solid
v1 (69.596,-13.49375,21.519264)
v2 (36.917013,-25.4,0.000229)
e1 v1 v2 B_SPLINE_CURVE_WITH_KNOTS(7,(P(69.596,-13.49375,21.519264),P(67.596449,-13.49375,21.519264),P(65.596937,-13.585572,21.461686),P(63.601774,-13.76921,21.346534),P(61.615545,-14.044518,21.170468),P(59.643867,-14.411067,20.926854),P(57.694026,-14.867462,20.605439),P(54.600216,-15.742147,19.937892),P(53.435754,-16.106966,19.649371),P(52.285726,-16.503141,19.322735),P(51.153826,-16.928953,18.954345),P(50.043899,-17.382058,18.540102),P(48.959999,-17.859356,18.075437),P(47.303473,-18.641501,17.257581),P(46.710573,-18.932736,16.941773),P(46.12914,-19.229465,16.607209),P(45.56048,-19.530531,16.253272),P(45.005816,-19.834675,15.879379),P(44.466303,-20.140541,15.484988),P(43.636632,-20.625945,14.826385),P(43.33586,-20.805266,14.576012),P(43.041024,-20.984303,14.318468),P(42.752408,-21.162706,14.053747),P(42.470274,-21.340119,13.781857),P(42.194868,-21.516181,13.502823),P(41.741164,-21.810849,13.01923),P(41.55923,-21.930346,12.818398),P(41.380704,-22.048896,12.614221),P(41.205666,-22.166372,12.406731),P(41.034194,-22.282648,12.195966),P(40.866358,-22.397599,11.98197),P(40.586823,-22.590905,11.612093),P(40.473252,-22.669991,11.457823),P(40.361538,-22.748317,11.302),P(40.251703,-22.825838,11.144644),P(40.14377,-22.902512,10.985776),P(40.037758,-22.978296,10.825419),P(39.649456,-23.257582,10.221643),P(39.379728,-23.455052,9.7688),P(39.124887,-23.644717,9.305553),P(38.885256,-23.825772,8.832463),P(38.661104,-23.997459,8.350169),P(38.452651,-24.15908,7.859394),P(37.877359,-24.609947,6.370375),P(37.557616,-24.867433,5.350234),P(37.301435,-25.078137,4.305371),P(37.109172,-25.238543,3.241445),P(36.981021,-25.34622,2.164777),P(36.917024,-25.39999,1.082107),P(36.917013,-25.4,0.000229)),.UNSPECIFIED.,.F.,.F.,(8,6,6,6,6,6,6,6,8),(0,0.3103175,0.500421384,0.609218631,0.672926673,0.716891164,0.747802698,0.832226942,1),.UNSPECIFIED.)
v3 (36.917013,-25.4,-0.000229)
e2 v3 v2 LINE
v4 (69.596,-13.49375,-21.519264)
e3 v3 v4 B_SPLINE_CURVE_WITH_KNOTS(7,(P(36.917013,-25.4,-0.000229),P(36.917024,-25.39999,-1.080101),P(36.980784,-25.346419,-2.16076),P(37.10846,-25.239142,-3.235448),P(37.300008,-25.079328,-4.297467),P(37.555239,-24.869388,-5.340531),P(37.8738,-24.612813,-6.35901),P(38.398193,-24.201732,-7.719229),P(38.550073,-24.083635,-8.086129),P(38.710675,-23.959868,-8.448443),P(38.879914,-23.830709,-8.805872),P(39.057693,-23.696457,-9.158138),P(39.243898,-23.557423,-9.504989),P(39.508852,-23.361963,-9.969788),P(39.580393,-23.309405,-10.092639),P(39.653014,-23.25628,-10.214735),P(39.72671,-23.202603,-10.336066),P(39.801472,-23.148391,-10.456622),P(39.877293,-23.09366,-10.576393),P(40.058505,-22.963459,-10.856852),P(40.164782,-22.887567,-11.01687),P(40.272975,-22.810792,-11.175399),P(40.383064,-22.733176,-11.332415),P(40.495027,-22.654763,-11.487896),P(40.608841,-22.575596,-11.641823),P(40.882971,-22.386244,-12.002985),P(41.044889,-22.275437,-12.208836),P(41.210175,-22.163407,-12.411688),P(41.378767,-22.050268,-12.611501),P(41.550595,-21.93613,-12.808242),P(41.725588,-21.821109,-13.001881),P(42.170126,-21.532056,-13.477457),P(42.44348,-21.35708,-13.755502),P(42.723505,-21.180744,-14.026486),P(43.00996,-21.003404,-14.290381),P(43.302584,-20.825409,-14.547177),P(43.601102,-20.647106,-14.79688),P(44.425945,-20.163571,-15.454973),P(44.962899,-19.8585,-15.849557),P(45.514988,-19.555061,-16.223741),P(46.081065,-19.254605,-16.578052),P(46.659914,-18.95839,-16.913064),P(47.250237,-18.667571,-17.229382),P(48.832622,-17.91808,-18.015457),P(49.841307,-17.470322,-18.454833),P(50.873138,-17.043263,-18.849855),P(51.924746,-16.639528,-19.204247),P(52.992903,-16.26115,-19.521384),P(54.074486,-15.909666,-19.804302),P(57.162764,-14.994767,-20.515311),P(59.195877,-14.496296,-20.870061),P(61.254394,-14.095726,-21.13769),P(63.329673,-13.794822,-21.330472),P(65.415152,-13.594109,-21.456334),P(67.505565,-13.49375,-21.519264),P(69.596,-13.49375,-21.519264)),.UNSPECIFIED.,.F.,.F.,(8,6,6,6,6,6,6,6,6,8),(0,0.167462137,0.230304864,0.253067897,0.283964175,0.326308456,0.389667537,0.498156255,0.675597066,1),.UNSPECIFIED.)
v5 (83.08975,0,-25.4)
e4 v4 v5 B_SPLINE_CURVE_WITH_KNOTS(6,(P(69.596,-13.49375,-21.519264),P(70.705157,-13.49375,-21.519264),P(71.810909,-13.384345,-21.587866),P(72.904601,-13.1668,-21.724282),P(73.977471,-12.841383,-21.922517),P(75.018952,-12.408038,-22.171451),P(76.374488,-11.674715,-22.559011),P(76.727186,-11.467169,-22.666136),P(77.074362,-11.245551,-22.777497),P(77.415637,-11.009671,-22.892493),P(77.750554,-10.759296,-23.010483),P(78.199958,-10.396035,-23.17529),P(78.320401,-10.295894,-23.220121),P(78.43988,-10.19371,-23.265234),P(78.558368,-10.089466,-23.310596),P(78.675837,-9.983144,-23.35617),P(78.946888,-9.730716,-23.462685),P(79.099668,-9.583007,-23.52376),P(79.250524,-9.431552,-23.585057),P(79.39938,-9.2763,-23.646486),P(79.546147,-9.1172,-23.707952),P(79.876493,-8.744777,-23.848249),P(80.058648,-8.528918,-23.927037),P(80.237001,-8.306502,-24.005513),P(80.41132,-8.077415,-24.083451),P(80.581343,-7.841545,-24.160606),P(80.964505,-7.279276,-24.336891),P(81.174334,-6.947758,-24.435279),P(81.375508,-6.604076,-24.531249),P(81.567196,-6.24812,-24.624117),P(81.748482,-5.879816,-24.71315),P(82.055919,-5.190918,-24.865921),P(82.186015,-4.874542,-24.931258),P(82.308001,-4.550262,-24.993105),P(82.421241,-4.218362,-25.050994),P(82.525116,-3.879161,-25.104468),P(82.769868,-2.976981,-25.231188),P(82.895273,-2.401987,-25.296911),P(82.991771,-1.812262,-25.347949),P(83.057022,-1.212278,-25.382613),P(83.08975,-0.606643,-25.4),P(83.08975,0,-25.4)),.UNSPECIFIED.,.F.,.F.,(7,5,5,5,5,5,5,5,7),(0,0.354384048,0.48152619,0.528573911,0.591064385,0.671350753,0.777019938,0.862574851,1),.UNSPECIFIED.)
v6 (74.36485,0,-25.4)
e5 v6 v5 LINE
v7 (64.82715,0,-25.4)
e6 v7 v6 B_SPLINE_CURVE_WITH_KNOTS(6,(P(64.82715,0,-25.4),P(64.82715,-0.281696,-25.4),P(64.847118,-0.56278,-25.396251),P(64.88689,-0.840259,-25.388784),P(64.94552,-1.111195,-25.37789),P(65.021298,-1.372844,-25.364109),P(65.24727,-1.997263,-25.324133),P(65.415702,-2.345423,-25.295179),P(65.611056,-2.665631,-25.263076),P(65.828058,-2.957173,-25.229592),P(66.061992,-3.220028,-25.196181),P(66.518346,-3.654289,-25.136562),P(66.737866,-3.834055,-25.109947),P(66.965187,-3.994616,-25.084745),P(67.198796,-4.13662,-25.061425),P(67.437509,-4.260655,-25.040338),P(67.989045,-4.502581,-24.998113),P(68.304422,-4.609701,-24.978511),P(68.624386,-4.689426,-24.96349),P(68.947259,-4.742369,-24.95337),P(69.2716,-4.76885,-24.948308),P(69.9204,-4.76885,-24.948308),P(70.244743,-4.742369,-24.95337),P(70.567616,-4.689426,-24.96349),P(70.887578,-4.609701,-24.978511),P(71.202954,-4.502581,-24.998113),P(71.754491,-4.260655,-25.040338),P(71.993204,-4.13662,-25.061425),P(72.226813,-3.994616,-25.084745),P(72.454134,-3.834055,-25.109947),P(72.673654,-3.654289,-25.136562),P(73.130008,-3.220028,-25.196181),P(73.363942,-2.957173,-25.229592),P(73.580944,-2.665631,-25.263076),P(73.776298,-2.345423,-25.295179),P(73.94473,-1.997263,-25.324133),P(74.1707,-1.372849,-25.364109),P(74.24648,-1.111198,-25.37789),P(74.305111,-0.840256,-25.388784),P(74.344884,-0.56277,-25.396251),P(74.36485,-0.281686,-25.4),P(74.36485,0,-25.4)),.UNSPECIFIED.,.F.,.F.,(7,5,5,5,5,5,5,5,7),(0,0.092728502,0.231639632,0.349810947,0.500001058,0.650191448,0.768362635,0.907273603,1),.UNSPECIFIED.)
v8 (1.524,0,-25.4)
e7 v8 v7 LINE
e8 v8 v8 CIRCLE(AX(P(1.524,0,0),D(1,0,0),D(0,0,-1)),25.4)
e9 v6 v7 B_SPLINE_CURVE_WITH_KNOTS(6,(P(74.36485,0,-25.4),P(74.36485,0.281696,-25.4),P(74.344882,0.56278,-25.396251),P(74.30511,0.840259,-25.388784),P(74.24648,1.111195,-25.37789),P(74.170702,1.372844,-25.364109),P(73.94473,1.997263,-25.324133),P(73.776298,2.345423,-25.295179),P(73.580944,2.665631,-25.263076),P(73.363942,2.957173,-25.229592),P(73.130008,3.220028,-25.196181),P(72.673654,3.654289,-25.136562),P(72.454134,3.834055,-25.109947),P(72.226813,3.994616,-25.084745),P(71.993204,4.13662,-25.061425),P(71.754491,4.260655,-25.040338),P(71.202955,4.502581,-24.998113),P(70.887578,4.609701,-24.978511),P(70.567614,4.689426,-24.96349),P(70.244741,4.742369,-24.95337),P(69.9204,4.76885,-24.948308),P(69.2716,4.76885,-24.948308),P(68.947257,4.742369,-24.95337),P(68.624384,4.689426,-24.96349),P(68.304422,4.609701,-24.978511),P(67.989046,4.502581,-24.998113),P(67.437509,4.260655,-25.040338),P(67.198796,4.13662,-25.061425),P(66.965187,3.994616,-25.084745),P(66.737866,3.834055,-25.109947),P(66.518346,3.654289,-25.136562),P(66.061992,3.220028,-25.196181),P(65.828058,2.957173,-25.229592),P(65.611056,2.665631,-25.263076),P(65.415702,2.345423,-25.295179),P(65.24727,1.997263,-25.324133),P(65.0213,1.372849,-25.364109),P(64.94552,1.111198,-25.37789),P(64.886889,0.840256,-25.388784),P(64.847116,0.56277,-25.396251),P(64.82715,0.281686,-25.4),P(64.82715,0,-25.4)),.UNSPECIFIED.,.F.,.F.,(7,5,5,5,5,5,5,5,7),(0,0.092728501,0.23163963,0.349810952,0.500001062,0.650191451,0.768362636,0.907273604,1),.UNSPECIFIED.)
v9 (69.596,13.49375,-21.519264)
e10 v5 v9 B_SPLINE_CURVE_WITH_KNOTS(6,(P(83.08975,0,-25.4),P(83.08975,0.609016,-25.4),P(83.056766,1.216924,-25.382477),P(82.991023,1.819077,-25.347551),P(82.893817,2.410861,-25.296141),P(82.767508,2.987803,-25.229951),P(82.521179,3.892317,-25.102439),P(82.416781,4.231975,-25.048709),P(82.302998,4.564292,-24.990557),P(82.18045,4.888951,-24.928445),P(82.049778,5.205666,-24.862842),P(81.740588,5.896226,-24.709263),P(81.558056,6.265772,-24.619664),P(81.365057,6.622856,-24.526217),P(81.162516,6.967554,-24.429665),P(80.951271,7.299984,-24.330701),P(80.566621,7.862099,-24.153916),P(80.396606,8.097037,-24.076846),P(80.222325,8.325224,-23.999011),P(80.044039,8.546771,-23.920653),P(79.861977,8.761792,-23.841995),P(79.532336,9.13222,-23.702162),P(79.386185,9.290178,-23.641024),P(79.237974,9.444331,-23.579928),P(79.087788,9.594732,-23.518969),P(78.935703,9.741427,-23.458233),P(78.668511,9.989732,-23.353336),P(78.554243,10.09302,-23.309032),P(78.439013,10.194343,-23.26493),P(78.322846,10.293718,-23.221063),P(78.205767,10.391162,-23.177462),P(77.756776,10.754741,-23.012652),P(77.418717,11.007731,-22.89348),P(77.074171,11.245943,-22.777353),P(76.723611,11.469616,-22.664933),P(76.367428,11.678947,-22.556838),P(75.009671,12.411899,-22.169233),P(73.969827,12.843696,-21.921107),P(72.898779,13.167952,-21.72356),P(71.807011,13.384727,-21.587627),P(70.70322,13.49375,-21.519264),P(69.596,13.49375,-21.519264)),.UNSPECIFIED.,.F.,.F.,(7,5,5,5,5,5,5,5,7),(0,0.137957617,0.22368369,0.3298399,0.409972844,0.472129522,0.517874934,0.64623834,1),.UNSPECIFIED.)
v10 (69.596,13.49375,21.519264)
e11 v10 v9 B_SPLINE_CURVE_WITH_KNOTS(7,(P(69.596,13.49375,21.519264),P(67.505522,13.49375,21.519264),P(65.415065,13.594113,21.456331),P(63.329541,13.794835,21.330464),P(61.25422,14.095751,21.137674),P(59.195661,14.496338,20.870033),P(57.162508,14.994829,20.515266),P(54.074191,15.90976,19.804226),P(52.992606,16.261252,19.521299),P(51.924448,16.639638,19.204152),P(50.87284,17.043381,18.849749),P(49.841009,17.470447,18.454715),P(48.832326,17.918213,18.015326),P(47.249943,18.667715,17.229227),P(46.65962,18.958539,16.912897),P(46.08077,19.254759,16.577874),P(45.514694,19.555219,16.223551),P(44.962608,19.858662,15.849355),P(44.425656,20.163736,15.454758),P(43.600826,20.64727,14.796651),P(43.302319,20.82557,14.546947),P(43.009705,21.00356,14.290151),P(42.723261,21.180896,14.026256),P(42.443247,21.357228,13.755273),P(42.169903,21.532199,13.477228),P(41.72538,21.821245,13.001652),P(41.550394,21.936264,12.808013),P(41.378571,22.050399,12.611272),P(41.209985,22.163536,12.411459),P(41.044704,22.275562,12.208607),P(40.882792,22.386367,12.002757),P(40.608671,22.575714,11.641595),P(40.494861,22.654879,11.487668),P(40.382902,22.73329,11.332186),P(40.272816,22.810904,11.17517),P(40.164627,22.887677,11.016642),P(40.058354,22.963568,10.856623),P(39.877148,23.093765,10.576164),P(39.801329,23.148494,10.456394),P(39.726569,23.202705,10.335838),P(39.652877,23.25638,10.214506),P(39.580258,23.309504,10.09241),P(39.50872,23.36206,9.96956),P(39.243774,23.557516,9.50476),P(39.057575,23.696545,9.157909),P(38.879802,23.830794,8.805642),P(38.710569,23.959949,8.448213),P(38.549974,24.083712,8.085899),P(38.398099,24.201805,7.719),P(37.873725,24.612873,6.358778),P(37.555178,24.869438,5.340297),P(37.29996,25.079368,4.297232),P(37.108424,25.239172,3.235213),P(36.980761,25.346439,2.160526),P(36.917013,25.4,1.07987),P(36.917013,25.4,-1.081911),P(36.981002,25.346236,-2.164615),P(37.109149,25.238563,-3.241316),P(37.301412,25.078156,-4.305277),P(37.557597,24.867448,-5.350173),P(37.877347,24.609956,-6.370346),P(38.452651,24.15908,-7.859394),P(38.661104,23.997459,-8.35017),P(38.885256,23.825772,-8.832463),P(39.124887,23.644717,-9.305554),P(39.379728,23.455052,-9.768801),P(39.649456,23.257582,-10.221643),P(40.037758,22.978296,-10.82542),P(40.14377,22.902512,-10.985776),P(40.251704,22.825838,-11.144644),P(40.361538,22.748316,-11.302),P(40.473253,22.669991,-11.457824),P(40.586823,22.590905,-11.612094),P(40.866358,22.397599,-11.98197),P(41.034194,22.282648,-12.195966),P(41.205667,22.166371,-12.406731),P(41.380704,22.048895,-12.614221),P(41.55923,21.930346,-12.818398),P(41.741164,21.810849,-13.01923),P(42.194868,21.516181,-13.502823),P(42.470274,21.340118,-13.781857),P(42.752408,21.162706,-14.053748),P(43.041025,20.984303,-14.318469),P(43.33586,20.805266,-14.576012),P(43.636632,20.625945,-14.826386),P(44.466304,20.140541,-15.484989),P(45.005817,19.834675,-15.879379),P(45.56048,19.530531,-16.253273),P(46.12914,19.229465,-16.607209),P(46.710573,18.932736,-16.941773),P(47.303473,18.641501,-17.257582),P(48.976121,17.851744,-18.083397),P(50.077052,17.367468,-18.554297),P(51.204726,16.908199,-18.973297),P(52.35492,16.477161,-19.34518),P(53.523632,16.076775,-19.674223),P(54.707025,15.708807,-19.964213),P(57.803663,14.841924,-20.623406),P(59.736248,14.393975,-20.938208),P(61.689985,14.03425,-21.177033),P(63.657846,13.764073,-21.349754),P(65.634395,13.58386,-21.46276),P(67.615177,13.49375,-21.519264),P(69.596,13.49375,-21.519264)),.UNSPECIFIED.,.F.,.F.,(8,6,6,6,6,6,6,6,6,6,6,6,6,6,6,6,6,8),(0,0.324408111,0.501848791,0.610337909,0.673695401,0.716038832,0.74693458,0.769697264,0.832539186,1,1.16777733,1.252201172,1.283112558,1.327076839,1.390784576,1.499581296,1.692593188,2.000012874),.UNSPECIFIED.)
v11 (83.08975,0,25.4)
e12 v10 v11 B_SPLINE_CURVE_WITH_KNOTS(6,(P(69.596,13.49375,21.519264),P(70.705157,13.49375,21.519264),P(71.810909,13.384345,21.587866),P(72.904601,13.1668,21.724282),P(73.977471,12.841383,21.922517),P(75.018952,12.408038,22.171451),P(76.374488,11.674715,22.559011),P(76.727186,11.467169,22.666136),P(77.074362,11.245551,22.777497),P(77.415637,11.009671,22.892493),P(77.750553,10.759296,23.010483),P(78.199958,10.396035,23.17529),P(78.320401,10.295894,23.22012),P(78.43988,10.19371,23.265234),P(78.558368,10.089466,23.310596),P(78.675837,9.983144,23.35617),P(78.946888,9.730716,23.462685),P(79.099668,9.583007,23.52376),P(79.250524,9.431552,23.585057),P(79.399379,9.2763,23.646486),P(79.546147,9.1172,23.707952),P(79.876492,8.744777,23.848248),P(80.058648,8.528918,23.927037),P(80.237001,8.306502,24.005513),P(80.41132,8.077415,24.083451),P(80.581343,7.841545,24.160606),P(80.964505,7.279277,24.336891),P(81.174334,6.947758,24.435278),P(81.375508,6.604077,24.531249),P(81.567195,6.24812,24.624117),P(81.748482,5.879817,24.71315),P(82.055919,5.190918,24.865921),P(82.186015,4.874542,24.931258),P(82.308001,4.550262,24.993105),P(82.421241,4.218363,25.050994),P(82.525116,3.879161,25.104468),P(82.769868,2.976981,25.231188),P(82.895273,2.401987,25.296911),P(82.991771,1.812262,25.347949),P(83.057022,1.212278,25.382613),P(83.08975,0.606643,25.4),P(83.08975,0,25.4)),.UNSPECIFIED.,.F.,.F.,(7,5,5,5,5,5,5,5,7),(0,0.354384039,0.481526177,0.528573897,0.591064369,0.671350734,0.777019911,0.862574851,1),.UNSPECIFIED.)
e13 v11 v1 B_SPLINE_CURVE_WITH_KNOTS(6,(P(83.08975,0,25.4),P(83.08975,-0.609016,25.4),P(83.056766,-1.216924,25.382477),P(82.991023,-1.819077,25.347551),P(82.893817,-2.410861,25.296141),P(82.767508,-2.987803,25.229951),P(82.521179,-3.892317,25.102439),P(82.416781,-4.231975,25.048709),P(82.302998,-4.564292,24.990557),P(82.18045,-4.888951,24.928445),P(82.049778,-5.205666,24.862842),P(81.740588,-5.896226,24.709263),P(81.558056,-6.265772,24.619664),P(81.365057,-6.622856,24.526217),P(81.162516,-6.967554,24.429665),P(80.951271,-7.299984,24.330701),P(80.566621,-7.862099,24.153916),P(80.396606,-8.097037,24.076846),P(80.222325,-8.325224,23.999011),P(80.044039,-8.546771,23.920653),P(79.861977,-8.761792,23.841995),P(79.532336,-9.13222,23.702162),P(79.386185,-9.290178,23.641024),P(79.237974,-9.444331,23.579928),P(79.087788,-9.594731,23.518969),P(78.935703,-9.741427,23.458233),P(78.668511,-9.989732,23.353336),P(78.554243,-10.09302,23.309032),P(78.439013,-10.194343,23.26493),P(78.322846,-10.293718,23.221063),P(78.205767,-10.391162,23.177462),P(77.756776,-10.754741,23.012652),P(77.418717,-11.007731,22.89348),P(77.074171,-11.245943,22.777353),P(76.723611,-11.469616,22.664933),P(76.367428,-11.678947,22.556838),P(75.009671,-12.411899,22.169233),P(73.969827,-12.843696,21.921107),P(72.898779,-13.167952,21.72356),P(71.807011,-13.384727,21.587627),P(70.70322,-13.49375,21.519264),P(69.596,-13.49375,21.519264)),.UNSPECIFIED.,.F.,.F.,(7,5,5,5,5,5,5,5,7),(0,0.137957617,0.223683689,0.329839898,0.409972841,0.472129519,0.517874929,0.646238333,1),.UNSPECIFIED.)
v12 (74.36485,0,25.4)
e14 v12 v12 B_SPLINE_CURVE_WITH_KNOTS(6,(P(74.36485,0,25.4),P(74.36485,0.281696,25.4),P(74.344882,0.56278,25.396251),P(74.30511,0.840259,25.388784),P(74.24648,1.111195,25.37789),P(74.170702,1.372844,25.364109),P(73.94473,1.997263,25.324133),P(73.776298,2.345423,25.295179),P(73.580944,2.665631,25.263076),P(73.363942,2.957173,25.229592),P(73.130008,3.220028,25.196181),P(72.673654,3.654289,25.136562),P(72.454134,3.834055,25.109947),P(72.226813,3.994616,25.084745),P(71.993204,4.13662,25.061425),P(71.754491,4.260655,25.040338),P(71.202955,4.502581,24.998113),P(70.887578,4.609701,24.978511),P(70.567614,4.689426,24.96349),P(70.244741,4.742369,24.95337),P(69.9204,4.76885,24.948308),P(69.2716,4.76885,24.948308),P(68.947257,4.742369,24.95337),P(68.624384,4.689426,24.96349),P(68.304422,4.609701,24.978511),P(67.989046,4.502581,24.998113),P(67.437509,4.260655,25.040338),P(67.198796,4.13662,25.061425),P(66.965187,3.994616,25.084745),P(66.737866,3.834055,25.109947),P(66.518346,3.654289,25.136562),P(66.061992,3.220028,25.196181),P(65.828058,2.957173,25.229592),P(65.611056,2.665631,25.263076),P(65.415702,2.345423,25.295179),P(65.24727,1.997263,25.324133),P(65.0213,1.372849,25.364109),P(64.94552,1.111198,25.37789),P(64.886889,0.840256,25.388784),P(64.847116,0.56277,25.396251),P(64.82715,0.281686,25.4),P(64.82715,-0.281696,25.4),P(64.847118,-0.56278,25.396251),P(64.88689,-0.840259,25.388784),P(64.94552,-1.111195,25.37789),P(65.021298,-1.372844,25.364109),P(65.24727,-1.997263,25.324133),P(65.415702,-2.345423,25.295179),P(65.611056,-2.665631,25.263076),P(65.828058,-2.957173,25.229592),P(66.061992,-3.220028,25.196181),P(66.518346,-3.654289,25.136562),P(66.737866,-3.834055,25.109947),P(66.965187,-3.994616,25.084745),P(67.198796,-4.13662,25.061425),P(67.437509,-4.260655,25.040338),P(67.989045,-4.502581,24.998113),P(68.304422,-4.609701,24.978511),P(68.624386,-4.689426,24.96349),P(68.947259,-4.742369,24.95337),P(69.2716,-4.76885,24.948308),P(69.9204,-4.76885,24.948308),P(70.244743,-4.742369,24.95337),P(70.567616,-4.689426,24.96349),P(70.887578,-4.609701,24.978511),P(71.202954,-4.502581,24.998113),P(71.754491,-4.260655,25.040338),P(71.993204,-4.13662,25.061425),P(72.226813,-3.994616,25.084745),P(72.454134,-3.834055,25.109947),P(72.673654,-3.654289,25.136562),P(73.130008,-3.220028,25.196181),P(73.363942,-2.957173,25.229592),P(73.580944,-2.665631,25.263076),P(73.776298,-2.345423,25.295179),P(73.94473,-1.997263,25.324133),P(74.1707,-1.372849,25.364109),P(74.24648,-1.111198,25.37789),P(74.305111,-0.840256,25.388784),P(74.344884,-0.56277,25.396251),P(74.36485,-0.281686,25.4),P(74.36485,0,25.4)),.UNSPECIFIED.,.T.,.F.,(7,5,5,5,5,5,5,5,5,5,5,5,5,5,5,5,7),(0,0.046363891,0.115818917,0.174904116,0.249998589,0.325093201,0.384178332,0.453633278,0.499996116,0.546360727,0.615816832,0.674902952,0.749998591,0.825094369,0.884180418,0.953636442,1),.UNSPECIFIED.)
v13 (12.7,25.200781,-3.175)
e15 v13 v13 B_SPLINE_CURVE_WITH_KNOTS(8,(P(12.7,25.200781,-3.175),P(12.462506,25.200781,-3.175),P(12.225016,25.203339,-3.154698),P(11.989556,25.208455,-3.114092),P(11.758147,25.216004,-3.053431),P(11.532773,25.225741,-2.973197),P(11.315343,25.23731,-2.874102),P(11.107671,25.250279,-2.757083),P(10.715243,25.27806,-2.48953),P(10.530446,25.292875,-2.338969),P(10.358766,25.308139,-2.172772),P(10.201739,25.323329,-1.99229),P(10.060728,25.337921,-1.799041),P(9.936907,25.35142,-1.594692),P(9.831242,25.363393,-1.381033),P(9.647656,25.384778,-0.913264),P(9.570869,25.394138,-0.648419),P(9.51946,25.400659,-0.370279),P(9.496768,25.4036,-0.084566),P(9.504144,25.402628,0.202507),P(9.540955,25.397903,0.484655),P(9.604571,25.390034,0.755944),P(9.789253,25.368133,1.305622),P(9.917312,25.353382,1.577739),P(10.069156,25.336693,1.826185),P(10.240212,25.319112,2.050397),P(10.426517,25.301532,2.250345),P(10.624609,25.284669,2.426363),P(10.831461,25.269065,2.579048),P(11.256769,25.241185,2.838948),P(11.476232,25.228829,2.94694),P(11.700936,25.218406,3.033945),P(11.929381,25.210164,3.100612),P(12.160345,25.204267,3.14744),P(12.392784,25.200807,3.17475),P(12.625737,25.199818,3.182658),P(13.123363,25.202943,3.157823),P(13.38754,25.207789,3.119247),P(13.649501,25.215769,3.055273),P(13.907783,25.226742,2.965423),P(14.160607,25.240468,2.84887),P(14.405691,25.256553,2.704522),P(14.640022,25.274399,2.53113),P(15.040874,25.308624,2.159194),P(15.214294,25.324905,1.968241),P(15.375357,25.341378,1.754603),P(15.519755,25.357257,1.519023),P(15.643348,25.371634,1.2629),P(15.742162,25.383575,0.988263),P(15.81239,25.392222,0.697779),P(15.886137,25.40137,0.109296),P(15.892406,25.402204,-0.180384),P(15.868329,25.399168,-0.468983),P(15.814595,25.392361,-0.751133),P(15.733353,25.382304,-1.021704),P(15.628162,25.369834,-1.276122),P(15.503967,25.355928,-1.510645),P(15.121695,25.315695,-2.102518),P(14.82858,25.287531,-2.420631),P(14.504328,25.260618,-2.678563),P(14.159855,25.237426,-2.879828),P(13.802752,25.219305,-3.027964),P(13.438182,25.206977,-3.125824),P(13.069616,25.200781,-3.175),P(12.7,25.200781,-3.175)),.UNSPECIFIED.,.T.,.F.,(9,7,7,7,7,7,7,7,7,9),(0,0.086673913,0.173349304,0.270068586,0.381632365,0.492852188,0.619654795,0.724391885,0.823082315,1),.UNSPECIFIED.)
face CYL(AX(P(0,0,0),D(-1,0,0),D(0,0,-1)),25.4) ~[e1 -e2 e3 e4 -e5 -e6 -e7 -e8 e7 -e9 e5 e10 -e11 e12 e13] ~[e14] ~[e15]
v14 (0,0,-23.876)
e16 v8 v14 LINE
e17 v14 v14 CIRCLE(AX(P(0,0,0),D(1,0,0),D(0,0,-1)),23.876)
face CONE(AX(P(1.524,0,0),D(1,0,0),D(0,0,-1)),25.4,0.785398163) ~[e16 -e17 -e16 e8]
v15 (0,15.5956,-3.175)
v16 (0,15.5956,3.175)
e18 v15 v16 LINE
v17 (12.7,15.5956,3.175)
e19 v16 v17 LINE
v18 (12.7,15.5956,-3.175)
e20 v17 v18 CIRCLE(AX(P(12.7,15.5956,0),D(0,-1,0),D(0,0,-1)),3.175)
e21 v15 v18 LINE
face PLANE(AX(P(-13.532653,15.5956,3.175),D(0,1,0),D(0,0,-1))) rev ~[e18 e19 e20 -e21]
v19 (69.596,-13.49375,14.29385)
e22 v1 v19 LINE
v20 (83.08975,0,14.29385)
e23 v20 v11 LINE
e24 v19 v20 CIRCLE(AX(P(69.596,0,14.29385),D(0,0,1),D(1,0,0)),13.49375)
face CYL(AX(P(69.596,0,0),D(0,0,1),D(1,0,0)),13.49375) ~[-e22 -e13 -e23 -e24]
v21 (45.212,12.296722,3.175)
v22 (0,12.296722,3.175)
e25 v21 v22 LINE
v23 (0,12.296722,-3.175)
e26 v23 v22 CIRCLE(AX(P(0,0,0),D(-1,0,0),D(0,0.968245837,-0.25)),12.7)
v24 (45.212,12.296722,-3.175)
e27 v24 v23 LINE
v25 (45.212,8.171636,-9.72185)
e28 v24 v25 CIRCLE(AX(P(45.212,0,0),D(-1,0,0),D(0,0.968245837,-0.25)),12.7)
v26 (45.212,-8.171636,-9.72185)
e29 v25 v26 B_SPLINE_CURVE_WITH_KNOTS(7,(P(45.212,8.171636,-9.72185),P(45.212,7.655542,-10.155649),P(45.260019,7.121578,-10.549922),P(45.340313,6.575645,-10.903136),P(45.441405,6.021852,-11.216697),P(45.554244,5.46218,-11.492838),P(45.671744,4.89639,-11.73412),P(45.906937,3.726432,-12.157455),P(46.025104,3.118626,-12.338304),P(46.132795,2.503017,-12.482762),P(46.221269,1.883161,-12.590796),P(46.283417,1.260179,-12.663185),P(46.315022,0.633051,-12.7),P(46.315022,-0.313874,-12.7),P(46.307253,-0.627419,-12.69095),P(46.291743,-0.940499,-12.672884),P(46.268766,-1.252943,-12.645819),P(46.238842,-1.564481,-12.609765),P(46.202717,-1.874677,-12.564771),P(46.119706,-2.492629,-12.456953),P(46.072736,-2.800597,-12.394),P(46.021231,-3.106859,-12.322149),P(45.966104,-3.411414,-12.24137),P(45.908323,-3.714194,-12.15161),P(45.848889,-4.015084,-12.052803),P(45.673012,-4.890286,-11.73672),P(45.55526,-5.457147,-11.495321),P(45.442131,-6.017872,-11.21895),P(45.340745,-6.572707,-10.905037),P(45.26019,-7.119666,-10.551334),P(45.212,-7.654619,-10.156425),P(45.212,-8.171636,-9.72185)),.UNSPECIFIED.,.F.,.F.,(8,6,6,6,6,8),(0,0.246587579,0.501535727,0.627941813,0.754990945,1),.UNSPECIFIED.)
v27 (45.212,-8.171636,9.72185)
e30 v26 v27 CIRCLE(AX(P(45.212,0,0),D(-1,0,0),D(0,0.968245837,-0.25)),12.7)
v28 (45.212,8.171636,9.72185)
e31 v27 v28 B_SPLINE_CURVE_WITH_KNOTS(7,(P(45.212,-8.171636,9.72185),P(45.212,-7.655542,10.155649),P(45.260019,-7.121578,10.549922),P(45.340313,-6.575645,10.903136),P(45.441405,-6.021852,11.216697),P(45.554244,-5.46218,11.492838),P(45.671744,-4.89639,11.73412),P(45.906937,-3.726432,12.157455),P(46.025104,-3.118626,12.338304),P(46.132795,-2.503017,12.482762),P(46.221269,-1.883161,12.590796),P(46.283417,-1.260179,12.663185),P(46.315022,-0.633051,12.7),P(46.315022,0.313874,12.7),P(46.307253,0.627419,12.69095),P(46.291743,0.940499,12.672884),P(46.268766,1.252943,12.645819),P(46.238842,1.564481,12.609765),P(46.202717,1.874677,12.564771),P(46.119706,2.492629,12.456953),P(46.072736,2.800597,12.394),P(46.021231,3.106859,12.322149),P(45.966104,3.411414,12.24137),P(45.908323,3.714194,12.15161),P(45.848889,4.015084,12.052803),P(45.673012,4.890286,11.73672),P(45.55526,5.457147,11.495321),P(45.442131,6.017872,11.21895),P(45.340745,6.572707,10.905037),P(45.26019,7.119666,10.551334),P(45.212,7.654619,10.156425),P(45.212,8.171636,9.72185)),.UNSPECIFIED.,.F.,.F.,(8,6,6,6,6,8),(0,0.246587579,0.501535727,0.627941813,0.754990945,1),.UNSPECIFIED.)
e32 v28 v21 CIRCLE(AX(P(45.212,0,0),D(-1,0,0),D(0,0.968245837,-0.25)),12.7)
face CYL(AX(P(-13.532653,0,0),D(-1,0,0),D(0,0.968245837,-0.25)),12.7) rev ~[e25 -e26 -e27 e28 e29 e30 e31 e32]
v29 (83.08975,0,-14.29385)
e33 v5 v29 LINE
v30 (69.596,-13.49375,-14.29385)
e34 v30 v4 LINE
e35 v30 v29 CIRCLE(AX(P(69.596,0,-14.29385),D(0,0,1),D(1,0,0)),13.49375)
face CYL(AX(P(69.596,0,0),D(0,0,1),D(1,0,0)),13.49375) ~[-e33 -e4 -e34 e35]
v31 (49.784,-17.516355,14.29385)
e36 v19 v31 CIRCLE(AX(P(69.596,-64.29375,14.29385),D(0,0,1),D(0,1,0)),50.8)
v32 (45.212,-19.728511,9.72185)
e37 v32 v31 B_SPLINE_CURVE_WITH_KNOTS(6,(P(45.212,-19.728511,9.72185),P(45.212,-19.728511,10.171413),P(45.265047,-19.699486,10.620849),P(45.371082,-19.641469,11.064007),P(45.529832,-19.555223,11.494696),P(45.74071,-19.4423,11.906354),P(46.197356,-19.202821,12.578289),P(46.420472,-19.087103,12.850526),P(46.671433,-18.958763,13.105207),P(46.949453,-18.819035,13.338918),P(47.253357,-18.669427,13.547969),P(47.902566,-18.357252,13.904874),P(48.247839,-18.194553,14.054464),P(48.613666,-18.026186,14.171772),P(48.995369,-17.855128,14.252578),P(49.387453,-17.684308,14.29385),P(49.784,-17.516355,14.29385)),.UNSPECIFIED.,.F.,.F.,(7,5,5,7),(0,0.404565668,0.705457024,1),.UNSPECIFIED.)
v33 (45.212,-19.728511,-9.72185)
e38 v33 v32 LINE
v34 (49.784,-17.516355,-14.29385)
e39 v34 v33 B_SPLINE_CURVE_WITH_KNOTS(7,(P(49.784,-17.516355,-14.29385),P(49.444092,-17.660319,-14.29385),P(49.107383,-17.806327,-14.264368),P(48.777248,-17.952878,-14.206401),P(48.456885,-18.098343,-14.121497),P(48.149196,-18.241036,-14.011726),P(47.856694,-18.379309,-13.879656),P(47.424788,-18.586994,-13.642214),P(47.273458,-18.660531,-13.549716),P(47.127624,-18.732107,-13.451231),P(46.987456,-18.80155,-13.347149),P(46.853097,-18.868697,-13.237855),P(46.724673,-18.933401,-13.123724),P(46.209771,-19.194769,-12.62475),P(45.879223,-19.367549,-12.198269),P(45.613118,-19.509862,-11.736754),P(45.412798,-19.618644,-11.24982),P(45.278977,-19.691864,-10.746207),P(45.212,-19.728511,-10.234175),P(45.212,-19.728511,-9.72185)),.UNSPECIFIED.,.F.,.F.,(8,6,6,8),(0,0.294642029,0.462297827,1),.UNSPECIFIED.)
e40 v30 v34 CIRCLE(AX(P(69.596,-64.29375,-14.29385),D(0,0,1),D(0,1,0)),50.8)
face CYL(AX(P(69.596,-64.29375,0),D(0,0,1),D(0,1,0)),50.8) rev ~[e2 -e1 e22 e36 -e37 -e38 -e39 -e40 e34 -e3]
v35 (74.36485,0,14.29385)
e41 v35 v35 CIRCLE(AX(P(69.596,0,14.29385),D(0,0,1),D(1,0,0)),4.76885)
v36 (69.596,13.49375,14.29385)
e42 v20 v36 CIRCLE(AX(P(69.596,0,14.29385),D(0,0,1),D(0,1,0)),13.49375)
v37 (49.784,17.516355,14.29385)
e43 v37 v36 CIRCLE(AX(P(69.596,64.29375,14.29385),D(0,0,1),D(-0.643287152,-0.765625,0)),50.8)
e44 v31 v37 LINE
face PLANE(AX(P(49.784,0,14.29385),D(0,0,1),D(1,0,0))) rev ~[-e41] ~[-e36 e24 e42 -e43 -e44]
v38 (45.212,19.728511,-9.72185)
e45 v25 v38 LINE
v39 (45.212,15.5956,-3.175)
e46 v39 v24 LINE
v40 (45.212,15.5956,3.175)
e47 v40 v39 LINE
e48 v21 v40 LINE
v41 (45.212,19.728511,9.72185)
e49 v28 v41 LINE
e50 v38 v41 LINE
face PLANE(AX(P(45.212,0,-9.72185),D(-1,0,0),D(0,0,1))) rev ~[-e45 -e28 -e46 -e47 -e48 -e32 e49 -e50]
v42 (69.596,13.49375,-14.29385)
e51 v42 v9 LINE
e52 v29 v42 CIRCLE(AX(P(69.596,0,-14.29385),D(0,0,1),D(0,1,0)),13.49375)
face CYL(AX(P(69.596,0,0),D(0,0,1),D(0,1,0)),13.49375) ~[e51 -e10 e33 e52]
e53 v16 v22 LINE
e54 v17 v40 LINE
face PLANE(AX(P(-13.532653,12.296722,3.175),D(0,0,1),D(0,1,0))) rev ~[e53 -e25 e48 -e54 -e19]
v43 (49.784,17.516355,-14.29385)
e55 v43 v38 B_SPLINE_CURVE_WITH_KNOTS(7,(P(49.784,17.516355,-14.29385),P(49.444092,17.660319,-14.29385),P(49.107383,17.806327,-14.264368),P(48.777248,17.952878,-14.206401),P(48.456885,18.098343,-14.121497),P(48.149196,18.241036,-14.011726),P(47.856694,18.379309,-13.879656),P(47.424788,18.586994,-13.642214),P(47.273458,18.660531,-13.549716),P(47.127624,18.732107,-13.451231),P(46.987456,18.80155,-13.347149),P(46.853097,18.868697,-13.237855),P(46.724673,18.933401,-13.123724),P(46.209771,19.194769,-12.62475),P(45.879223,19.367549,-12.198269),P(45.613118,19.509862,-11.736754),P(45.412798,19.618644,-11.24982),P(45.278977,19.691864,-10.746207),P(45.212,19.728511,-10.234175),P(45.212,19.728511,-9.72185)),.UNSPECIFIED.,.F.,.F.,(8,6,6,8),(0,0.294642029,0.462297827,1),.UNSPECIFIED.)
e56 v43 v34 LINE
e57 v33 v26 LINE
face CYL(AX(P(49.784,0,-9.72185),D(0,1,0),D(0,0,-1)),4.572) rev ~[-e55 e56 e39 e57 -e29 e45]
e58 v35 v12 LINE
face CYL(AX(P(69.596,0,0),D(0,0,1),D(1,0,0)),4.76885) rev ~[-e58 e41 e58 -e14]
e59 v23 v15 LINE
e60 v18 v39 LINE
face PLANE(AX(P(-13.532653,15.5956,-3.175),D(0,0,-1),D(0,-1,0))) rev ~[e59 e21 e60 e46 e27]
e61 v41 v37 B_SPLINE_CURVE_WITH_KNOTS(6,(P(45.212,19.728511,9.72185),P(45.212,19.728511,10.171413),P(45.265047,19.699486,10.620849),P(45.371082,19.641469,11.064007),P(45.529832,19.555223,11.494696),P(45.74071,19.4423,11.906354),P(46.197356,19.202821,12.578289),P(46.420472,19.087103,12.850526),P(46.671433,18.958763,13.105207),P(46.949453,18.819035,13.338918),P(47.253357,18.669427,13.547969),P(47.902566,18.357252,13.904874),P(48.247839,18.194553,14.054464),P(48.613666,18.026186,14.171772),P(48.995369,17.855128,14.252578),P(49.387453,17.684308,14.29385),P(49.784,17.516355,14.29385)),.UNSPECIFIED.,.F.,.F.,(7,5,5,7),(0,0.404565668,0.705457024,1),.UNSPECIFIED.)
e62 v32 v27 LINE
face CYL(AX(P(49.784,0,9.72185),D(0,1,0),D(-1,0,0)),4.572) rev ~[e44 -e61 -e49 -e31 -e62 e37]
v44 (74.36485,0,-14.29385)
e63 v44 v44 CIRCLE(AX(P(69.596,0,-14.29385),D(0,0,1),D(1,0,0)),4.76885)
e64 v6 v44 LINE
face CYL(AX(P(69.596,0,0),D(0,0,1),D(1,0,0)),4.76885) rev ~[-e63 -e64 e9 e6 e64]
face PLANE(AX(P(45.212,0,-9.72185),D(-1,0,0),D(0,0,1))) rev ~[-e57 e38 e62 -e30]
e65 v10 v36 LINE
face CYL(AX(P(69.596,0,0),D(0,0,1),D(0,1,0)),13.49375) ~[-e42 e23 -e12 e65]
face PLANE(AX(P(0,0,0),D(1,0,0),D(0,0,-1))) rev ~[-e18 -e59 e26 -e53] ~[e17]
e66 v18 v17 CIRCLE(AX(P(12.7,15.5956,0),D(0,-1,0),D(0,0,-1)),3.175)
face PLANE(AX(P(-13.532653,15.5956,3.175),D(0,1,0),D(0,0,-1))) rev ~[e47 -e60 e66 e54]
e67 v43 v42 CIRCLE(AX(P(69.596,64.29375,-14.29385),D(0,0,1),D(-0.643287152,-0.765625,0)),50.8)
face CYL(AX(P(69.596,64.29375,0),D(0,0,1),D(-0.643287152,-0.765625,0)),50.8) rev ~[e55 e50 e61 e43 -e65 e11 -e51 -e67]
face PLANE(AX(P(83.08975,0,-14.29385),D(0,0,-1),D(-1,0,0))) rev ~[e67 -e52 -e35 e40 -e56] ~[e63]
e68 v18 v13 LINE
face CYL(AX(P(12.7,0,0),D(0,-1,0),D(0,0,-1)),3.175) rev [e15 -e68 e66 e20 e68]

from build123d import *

# Parameters (mm, degrees)
SKETCH1_R               = 25.4
BOSS_EXTRUDE1_DEPTH     = 83.08975
CUT_EXTRUDE1_DEPTH      = 43.688
SKETCH5_R               = 4.76885
CUT_EXTRUDE2_DEPTH      = 43.688
CUT_EXTRUDE3_DEPTH      = 43.688
CUT_EXTRUDE4_DEPTH      = 87.376
CUT_EXTRUDE4_DEPTH_BACK = 58.744653114
CHAMFER1_SIZE           = 1.524
SKETCH9_R               = 3.175
CUT_EXTRUDE5_DEPTH      = 91.521967399


with BuildPart() as part:
    # Sketch1 → Boss-Extrude1 (new body)
    with BuildSketch(Plane(origin=(0, 0, 0), x_dir=(0, 0, -1), z_dir=(1, 0, 0))):
        Circle(SKETCH1_R)
    extrude(amount=BOSS_EXTRUDE1_DEPTH)

    # Sketch4 → Cut-Extrude1 (cut, symmetric)
    with BuildSketch(Plane.XY):
        with BuildLine():
            Line((36.9170127, -25.4), (83.08975, -25.4))
            Line((83.08975, -25.4), (83.08975, 0))
            ThreePointArc((83.08975, 0), (79.137522129, -9.541522129), (69.596, -13.49375))
            ThreePointArc((69.596, -13.49375), (52.205808799, -16.563033999), (36.9170127, -25.4))
        make_face()
        with BuildLine():
            ThreePointArc((69.596, 13.49375), (79.137522129, 9.541522129), (83.08975, 0))
            Line((83.08975, 0), (83.08975, 25.4))
            Line((83.08975, 25.4), (36.9170127, 25.4))
            ThreePointArc((36.9170127, 25.4), (52.205808799, 16.563033999), (69.596, 13.49375))
        make_face()
    extrude(amount=CUT_EXTRUDE1_DEPTH, both=True, mode=Mode.SUBTRACT)

    # Sketch5 → Cut-Extrude2 (cut, symmetric)
    with BuildSketch(Plane.XY):
        with Locations((69.596, 0)):
            Circle(SKETCH5_R)
    extrude(amount=CUT_EXTRUDE2_DEPTH, both=True, mode=Mode.SUBTRACT)

    # Sketch6 → Cut-Extrude3 (cut, symmetric)
    with BuildSketch(Plane(origin=(0, 0, 0), x_dir=(1, 0, 0), z_dir=(0, 1, 0))):
        with BuildLine():
            Line((83.08975, 14.29385), (49.784, 14.29385))
            ThreePointArc((49.784, 14.29385), (46.551107796, 12.954742204), (45.212, 9.72185))
            Line((45.212, 9.72185), (45.212, -9.72185))
            ThreePointArc((45.212, -9.72185), (46.551107796, -12.954742204), (49.784, -14.29385))
            Line((49.784, -14.29385), (83.08975, -14.29385))
            Line((83.08975, -14.29385), (83.08975, 14.29385))
        make_face()
    extrude(amount=CUT_EXTRUDE3_DEPTH, both=True, mode=Mode.SUBTRACT)

    # Sketch7 → Cut-Extrude4 (cut, two sides: drawn at the far end of the back side and taken through both)
    with BuildSketch(Plane(origin=(45.212, 0, 0), x_dir=(0, 0, -1), z_dir=(1, 0, 0)).offset(-CUT_EXTRUDE4_DEPTH_BACK)):
        with BuildLine():
            Line((-3.175, 12.296722124), (-3.175, 15.5956))
            Line((-3.175, 15.5956), (3.175, 15.5956))
            Line((3.175, 15.5956), (3.175, 12.296722124))
            ThreePointArc((3.175, 12.296722124), (0, -12.7), (-3.175, 12.296722124))
        make_face()
    extrude(amount=CUT_EXTRUDE4_DEPTH + CUT_EXTRUDE4_DEPTH_BACK, mode=Mode.SUBTRACT)

    # Chamfer1
    chamfer1_edges = [part.edges().sort_by_distance(p)[0] for p in [
        (0, 0, 25.4),
    ]]
    chamfer(chamfer1_edges, length=CHAMFER1_SIZE)

    # Sketch9 → Cut-Extrude5 (cut, through all)
    with BuildSketch(Plane(origin=(0, 0, 0), x_dir=(1, 0, 0), z_dir=(0, 1, 0))):
        with Locations((12.7, 0)):
            Circle(SKETCH9_R)
    extrude(amount=CUT_EXTRUDE5_DEPTH, mode=Mode.SUBTRACT)


solid = part.part
